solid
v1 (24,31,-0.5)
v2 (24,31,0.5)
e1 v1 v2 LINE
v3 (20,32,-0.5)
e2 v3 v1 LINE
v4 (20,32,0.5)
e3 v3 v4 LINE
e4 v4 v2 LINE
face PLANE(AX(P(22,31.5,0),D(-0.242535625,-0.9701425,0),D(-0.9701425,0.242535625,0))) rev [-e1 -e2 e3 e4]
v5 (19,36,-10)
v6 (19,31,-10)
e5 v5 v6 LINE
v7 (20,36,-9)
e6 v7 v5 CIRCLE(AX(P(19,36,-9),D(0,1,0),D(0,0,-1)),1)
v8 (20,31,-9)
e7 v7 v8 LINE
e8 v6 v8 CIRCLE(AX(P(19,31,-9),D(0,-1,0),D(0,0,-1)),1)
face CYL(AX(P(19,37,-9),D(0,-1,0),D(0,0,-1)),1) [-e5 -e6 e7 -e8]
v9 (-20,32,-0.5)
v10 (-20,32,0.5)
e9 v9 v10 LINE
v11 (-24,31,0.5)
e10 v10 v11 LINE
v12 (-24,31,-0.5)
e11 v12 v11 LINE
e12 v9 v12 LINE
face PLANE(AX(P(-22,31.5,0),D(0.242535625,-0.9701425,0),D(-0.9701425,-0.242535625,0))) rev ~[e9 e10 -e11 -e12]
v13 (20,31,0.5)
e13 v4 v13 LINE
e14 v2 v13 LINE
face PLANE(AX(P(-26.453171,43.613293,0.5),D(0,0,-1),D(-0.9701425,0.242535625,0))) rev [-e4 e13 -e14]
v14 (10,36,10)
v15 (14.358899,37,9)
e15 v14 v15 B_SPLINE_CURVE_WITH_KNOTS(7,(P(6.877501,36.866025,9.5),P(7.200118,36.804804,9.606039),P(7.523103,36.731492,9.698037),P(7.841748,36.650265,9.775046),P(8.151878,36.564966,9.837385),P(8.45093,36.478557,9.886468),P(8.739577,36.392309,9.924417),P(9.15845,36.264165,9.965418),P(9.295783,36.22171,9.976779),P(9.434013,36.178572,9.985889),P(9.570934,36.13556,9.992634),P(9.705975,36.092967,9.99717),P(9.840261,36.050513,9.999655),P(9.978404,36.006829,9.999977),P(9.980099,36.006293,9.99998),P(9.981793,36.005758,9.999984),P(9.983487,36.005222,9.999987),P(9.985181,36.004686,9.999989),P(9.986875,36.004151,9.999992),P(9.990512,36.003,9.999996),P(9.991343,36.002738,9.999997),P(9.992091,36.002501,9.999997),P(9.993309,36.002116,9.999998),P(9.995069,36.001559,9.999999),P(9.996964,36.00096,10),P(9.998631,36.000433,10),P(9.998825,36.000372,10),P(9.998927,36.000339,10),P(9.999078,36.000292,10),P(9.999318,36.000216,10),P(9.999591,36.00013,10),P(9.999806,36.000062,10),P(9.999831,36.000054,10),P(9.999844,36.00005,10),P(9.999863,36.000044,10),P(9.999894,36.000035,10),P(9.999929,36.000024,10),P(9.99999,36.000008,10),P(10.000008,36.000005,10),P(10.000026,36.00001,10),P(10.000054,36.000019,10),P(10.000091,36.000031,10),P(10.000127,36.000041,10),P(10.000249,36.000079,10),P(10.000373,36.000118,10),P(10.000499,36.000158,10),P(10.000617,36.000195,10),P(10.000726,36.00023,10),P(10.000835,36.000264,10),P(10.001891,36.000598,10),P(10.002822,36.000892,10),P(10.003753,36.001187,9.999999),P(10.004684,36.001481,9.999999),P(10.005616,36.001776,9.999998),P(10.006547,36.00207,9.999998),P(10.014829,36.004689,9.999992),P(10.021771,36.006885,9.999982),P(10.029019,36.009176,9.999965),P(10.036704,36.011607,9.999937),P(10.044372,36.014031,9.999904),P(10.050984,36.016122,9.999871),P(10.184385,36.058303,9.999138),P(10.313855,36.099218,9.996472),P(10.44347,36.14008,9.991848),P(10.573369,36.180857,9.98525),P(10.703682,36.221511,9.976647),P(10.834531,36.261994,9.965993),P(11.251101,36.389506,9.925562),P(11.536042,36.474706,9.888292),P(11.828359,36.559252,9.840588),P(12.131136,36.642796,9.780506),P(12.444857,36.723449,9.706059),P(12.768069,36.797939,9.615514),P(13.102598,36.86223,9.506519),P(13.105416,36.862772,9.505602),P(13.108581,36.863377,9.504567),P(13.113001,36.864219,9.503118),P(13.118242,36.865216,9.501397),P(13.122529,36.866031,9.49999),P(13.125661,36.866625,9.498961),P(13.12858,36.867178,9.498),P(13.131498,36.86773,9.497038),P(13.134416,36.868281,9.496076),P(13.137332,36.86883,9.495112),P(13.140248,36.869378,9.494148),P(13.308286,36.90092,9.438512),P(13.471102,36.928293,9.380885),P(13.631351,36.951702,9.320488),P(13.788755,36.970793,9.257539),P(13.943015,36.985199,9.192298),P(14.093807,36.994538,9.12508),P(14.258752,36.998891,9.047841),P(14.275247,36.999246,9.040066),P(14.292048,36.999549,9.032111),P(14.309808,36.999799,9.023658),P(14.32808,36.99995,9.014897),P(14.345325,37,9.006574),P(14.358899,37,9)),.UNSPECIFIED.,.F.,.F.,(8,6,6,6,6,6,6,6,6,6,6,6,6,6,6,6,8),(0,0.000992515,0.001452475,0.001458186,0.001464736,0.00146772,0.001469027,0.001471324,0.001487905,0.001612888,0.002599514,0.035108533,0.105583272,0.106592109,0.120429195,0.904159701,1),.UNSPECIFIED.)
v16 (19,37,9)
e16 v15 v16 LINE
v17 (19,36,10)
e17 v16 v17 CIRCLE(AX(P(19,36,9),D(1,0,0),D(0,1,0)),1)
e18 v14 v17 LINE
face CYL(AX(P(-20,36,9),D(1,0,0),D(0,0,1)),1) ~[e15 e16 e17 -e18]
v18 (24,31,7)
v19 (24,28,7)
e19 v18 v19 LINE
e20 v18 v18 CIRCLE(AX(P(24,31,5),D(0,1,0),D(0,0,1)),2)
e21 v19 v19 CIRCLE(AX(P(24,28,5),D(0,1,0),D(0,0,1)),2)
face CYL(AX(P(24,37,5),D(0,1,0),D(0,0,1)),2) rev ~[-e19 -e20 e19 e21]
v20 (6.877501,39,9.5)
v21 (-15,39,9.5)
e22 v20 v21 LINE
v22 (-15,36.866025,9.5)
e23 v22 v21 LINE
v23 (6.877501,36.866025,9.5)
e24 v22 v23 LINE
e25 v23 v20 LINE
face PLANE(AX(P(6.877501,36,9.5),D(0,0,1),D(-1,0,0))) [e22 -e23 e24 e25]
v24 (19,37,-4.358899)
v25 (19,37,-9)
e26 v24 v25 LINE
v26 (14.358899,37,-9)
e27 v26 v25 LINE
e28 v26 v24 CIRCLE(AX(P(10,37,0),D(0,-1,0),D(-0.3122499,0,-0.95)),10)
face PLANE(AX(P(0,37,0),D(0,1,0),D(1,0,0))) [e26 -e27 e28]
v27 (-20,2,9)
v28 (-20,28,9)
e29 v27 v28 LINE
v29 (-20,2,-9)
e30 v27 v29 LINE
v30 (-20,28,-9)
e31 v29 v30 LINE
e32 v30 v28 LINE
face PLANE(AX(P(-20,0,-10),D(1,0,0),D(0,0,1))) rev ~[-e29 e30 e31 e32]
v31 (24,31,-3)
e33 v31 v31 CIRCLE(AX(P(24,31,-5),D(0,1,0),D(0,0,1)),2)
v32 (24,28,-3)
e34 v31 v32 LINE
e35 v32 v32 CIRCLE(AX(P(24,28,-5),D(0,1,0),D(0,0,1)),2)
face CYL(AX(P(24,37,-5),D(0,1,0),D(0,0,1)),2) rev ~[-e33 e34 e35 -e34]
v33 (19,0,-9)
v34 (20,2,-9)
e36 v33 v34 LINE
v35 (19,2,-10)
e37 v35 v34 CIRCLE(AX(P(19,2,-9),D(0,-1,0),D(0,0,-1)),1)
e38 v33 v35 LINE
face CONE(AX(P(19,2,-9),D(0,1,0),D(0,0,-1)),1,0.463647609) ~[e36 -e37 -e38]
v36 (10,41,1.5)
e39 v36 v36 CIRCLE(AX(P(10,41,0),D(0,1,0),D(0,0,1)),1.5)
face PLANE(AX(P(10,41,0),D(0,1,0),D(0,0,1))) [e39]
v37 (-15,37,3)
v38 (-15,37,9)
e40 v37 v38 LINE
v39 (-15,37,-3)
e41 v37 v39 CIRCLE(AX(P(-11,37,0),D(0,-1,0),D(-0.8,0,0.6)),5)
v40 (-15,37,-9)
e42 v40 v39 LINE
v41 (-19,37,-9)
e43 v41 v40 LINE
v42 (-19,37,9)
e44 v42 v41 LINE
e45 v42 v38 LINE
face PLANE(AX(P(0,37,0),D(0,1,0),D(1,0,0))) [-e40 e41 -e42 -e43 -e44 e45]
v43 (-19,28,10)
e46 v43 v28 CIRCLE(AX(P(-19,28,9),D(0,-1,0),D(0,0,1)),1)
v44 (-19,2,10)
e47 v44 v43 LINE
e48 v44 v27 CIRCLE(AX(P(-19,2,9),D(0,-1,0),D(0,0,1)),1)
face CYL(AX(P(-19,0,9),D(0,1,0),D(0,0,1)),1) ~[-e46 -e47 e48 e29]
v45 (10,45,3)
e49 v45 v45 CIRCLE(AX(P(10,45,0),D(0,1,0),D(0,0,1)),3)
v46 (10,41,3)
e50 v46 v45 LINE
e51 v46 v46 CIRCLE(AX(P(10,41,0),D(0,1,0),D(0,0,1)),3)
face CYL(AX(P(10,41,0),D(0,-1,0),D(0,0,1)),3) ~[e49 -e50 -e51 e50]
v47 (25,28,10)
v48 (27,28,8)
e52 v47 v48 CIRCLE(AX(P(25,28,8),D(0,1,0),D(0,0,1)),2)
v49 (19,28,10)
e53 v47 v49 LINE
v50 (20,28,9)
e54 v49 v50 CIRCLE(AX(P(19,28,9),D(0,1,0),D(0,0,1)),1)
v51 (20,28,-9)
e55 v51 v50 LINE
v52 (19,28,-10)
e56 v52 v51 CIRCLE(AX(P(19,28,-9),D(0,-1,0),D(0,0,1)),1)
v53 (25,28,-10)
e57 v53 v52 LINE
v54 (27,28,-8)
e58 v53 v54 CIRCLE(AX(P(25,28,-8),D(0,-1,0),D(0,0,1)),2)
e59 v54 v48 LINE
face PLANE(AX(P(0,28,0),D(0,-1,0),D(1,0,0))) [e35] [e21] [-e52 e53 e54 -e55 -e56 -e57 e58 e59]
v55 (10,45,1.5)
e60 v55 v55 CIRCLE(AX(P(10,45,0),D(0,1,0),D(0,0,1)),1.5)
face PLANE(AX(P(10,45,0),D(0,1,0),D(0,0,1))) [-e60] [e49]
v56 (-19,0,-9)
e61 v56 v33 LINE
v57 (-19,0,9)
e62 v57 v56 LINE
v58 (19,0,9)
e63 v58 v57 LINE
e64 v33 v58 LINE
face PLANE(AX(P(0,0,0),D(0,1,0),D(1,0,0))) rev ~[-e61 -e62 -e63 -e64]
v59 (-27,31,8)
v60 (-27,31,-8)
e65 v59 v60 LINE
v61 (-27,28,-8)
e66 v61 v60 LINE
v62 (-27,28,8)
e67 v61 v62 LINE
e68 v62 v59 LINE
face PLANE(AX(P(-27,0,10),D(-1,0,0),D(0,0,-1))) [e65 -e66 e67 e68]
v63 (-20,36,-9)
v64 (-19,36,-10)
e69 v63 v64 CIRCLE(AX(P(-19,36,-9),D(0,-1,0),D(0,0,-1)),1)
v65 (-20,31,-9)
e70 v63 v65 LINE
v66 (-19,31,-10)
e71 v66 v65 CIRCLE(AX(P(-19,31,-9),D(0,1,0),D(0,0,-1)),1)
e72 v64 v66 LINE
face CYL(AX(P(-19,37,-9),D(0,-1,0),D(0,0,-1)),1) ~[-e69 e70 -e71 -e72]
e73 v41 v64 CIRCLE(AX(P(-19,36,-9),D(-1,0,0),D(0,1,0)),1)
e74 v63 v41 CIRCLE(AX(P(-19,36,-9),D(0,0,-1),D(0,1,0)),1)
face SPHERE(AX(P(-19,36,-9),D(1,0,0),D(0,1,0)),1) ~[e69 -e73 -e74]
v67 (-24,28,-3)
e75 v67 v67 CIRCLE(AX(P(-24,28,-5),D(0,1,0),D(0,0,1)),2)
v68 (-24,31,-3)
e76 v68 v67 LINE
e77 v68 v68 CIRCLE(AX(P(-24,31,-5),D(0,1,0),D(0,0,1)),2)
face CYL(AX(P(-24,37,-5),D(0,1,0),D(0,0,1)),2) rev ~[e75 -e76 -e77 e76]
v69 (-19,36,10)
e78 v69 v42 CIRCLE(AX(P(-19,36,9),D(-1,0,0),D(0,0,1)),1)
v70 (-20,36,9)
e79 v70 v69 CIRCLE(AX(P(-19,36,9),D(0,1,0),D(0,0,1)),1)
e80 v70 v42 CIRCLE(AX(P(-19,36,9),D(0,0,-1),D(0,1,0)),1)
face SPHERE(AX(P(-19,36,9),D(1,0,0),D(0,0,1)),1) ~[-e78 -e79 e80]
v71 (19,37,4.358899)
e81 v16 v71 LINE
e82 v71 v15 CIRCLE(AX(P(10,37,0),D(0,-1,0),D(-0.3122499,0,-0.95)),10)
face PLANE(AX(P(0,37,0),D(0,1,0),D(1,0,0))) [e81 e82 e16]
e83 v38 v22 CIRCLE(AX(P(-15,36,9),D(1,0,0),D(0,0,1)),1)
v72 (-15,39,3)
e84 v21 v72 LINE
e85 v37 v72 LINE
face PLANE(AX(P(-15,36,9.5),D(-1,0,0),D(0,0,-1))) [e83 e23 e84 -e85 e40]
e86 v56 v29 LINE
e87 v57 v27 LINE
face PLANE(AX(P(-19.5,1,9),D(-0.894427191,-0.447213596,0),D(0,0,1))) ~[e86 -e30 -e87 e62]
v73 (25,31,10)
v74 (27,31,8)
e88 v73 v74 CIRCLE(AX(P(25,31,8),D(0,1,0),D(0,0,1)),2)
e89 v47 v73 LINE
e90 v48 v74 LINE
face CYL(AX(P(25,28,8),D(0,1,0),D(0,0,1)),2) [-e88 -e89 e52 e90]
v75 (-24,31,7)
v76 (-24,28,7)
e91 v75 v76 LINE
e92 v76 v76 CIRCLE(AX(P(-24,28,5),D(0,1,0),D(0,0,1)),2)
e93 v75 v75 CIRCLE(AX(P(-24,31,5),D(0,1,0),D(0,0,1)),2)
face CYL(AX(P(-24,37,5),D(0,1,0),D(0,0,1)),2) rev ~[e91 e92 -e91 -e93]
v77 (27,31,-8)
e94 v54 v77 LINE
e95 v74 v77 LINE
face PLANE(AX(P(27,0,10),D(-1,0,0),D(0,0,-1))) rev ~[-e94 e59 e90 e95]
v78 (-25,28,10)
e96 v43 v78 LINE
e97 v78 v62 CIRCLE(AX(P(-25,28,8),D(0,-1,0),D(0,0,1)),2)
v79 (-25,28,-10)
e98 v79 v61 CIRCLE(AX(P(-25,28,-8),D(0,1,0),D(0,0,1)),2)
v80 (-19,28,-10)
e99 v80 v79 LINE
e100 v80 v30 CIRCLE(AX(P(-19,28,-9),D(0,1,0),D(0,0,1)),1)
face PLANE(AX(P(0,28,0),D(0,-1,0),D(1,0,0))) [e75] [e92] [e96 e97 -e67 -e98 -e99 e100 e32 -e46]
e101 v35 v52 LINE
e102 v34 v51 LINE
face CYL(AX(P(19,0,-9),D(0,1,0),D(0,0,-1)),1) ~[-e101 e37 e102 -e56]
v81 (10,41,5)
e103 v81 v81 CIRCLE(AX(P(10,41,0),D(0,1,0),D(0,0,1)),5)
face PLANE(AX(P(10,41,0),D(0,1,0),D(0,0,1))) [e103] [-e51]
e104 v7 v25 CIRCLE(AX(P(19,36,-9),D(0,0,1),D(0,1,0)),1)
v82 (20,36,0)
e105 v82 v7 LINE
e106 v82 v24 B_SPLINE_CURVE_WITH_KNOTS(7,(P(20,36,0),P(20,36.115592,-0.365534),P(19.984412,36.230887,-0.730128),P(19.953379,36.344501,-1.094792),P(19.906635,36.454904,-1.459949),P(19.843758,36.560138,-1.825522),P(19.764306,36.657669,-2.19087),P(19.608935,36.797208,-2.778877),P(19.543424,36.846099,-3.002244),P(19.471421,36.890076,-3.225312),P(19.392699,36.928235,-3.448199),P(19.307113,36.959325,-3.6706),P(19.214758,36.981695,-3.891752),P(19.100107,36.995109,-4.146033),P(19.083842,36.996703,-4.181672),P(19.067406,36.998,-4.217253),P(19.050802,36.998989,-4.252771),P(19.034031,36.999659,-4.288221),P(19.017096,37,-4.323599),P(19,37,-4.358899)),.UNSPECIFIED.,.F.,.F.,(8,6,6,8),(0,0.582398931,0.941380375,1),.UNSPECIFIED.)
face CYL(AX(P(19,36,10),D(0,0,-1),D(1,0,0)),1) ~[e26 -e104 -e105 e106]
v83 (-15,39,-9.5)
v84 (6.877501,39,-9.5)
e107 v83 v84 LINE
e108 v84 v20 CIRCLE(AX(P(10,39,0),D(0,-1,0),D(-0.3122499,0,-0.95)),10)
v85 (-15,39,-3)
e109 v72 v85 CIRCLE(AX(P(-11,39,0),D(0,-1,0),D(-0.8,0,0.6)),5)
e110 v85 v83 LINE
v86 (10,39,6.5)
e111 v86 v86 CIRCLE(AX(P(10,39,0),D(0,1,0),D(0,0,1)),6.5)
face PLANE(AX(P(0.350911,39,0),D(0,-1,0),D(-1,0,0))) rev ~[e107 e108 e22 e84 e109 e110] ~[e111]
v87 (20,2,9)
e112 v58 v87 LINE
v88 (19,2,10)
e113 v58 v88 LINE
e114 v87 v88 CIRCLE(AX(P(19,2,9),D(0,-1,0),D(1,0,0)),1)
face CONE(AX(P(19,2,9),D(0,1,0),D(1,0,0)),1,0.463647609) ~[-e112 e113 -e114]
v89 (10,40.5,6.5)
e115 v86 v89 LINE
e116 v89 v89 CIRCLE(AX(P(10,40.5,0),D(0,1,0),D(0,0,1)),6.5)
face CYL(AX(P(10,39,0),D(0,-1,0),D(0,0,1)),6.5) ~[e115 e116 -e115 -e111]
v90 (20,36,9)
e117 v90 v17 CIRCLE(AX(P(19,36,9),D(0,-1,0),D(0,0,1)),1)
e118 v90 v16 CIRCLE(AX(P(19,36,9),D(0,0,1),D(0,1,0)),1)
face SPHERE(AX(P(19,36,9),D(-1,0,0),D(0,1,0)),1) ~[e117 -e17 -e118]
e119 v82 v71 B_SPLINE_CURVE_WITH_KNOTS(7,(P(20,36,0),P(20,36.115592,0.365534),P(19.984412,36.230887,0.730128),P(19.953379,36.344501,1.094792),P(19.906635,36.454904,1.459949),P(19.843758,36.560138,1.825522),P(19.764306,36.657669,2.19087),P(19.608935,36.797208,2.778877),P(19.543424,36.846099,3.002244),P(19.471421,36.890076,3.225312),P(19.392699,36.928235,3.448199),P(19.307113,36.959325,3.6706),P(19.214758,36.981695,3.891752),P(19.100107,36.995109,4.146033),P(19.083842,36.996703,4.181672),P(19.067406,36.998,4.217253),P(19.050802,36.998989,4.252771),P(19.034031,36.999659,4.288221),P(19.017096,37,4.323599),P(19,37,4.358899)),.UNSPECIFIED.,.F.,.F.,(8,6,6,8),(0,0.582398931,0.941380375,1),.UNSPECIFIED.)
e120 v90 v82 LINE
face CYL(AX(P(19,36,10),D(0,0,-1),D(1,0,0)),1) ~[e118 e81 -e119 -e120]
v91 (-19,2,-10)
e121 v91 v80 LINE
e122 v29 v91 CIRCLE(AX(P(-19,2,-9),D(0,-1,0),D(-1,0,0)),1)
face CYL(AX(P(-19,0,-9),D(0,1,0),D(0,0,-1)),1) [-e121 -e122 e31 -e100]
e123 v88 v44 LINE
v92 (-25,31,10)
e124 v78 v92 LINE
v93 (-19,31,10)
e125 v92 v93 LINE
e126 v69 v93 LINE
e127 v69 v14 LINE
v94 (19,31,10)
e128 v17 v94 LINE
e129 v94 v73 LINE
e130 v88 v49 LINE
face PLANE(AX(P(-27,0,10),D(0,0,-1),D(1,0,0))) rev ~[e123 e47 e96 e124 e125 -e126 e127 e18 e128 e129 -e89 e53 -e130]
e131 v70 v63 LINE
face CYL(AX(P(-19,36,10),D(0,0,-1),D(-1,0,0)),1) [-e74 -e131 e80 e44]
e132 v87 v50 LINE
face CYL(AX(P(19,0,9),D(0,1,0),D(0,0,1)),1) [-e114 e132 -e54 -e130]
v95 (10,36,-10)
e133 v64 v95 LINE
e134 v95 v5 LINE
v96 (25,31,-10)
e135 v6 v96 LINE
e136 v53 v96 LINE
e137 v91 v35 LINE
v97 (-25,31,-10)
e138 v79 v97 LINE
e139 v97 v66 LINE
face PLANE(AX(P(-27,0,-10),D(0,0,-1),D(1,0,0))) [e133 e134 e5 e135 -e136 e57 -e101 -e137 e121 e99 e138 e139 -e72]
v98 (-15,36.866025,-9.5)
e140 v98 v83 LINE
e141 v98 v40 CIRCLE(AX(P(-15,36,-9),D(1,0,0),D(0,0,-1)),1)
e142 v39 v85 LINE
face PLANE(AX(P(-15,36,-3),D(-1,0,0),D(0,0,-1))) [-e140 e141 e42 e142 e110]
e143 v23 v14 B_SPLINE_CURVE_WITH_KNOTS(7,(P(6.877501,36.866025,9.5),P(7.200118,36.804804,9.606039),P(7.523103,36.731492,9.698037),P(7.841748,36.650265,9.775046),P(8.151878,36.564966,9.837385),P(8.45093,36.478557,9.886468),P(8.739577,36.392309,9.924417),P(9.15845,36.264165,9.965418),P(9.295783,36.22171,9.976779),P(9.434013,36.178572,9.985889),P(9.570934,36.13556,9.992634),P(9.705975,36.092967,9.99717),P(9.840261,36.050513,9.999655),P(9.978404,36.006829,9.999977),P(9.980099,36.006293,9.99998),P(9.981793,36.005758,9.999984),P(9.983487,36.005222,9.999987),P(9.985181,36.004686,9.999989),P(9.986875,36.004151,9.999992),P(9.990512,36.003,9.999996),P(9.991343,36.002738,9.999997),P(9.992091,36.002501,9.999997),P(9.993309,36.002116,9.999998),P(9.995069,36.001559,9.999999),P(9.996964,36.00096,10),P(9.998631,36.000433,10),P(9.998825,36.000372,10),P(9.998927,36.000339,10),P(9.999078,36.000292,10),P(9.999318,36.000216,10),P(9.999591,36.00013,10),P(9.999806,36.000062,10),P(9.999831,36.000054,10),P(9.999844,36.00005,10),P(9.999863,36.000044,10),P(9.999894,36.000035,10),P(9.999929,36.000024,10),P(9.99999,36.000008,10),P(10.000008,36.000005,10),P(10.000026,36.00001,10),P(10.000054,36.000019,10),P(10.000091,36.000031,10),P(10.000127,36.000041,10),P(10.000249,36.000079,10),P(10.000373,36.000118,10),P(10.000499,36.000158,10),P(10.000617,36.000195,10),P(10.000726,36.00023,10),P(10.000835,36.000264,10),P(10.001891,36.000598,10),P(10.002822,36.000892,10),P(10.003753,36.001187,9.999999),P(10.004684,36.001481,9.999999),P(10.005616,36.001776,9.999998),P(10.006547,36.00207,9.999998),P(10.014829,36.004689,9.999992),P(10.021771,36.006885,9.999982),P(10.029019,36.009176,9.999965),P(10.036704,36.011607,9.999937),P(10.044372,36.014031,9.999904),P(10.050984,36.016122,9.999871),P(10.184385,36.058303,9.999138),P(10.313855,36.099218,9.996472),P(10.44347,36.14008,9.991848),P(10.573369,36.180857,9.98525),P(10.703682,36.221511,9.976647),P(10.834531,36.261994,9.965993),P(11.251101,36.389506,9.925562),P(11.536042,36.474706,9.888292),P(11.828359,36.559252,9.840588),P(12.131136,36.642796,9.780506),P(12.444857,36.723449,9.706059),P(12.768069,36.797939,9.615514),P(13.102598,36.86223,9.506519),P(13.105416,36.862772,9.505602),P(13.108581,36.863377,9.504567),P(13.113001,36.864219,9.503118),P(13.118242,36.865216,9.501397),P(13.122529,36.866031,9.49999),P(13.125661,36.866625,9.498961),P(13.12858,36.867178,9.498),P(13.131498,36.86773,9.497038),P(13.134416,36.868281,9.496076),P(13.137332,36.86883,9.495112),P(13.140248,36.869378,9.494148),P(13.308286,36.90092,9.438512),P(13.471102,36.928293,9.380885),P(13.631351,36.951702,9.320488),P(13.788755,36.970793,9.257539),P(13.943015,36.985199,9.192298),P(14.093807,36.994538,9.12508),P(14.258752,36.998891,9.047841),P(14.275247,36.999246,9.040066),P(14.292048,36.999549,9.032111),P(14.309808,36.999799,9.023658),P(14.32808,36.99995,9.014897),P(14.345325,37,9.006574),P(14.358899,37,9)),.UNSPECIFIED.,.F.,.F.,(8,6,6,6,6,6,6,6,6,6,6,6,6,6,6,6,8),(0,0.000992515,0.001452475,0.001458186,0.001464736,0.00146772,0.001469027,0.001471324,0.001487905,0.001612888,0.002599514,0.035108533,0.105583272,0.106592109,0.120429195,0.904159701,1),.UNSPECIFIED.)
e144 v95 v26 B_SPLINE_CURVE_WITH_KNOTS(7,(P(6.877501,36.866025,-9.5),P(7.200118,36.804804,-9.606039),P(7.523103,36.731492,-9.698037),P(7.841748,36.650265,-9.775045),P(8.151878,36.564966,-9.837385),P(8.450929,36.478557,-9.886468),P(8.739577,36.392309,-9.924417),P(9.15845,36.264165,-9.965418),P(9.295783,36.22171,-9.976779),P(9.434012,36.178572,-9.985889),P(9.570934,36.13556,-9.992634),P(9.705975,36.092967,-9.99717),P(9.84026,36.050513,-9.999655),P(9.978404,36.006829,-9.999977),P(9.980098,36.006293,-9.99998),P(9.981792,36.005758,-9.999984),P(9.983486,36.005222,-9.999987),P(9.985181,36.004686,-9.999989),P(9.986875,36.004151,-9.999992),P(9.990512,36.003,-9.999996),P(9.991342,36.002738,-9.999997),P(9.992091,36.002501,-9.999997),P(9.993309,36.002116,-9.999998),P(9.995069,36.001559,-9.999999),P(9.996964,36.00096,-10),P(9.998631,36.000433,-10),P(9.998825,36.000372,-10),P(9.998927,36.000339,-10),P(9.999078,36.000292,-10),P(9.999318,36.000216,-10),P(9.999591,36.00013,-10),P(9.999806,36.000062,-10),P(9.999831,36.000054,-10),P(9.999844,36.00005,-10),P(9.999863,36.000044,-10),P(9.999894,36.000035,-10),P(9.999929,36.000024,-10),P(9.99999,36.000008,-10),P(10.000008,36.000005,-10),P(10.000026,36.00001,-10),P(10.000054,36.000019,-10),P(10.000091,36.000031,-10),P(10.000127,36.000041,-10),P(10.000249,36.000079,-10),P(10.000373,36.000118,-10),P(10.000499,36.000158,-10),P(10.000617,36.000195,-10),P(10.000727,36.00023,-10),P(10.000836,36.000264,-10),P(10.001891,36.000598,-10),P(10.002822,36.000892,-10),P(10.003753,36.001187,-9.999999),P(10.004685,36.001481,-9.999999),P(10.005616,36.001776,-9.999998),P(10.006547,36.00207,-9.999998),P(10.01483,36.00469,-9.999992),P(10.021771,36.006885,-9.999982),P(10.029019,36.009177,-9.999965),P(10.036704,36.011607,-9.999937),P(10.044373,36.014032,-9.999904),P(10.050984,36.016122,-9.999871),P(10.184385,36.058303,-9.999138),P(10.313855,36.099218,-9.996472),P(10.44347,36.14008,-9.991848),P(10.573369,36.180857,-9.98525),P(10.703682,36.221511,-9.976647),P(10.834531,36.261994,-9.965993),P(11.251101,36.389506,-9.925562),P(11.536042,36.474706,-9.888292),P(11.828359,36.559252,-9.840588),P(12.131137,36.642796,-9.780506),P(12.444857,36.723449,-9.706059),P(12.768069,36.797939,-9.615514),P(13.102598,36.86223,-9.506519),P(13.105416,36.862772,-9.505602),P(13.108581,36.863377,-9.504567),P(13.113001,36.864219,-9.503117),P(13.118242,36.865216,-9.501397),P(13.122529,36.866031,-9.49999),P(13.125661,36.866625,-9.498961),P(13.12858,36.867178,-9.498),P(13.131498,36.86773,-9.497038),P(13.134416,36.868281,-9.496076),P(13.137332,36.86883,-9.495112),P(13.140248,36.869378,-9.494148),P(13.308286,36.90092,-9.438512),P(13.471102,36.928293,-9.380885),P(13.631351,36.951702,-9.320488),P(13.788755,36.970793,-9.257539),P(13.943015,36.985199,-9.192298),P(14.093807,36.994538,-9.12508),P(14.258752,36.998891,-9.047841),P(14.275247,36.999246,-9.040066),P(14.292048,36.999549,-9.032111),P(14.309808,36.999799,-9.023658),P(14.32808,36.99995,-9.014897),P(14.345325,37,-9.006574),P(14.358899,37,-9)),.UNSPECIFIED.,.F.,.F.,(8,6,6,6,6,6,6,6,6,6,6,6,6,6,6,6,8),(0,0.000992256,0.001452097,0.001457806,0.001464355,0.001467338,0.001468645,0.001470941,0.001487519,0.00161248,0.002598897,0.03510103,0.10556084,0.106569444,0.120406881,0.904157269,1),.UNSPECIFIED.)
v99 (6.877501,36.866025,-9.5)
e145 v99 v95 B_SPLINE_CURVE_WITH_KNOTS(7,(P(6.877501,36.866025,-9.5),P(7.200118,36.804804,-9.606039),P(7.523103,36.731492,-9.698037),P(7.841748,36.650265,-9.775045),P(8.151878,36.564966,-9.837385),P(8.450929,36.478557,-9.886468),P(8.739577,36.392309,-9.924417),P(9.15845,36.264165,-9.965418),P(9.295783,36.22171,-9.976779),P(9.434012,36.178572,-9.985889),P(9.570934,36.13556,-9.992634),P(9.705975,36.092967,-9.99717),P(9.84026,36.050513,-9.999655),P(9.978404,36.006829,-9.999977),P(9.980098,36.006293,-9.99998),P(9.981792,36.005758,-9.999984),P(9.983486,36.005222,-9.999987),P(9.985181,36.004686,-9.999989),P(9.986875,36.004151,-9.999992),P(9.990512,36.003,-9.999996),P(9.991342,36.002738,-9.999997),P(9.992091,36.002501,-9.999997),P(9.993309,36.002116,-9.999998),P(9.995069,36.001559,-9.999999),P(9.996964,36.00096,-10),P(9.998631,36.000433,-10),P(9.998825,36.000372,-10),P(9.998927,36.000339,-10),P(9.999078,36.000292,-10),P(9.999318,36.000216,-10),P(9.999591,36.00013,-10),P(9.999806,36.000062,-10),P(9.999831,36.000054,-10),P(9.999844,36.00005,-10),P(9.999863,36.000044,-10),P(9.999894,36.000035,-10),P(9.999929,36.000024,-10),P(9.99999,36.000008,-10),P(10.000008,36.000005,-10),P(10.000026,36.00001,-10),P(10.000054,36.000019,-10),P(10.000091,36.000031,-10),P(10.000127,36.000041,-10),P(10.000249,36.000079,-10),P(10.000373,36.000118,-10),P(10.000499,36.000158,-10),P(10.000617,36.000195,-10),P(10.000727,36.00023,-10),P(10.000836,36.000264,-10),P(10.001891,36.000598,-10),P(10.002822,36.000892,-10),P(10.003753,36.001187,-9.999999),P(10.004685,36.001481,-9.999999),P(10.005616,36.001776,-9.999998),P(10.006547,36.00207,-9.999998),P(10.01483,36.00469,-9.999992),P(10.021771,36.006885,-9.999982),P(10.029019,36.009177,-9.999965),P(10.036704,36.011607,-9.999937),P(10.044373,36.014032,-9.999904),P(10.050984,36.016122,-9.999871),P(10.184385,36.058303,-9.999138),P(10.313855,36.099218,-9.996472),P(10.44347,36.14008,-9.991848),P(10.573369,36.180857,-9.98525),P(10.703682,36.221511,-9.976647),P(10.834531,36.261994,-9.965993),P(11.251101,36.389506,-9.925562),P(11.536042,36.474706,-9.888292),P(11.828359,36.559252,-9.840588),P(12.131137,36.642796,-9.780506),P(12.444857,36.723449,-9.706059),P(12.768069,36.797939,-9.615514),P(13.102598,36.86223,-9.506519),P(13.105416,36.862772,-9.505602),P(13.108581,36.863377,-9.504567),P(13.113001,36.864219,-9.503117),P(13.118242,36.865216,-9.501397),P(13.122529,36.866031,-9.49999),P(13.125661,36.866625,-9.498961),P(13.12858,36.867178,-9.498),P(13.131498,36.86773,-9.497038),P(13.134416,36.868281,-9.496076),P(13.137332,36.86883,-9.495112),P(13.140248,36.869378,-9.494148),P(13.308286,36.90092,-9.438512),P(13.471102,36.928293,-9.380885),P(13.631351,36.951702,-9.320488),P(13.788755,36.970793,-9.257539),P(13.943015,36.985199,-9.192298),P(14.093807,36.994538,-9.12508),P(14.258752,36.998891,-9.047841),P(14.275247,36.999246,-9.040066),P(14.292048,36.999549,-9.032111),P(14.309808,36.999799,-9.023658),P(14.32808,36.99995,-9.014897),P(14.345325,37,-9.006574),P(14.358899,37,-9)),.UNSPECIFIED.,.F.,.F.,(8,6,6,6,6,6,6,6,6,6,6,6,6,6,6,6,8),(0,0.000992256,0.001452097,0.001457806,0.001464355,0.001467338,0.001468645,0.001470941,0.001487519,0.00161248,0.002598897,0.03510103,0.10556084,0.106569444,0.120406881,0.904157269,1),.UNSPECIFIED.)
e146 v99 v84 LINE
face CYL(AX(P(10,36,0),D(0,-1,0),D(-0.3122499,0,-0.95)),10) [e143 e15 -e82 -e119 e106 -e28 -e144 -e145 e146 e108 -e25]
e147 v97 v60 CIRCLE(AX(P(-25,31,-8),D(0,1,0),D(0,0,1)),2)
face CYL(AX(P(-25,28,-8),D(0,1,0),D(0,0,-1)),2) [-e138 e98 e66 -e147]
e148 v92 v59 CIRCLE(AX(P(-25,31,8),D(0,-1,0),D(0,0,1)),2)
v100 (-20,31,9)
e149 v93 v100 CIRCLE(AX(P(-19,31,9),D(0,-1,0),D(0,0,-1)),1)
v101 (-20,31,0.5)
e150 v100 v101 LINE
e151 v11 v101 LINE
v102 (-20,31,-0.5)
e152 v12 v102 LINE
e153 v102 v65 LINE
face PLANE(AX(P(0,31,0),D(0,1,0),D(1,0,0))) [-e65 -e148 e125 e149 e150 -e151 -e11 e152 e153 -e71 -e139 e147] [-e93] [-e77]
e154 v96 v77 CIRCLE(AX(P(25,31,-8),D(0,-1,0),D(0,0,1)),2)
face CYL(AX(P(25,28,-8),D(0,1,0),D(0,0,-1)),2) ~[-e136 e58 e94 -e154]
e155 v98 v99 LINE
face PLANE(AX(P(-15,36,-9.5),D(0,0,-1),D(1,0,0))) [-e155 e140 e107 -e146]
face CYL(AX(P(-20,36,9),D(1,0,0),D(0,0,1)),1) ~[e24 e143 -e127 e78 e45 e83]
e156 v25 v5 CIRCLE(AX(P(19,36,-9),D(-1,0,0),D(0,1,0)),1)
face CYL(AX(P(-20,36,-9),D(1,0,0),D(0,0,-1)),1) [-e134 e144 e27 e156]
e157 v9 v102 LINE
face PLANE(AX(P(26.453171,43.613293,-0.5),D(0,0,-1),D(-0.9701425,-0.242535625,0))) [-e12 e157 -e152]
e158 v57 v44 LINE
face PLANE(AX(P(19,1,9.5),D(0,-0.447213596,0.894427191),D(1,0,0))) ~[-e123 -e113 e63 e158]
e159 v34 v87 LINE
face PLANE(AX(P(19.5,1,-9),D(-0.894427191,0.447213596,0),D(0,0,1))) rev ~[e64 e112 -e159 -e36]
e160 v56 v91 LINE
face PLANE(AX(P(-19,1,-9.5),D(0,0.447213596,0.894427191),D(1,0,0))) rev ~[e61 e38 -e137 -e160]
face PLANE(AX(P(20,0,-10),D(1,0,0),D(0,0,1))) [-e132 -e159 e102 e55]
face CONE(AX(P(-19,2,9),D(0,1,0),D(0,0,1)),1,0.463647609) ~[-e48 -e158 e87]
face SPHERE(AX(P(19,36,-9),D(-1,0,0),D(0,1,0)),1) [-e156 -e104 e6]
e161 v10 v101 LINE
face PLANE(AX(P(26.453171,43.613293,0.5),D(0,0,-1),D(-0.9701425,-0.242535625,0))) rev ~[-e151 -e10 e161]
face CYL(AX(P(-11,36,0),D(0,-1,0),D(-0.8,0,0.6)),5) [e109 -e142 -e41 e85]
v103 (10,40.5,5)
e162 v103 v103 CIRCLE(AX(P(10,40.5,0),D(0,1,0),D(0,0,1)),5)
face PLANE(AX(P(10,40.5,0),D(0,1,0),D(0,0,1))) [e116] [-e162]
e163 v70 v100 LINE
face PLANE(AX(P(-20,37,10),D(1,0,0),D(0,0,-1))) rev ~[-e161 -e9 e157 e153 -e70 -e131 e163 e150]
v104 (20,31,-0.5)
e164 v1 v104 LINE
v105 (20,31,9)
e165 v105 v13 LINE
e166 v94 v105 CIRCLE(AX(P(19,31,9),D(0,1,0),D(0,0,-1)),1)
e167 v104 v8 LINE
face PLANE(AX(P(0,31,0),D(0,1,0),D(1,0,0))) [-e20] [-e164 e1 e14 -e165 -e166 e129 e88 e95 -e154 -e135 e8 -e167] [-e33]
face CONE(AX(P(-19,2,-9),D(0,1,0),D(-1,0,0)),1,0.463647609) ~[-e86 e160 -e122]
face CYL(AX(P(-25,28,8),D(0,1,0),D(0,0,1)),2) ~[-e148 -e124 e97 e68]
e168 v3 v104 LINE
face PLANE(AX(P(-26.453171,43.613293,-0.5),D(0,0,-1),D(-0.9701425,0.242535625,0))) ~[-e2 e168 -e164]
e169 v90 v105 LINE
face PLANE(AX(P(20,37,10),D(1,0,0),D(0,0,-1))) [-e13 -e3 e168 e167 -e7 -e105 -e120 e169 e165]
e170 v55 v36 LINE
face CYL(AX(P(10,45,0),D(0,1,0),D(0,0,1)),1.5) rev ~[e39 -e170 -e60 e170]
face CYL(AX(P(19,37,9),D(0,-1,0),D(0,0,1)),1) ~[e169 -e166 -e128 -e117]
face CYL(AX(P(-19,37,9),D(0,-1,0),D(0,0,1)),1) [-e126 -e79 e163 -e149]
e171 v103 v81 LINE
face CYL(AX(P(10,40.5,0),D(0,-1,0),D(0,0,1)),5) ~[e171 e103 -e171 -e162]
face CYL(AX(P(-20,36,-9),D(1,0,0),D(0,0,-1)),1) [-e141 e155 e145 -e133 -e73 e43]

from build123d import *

# Parameters (mm, degrees)
SKETCH_1_W          = 54
SKETCH_1_H          = 20
EXTRUDE_1_DEPTH     = 37
SKETCH_2_W          = 67.922695334
SKETCH_2_H          = 39.407561178
SKETCH_2_W_2        = 40
SKETCH_2_H_2        = 20
CUT_EXTRUDE_1_DEPTH = 28
SKETCH_3_W          = 67.922695334
SKETCH_3_H          = 33.385731604
SKETCH_3_W_2        = 40
SKETCH_3_H_2        = 20
CUT_EXTRUDE_2_DEPTH = 6
FILLET_1_R          = 1
FILLET_2_R          = 2
CHAMFER_1_SIZE      = 1
CHAMFER_1_SIZE2     = 2
SKETCH_4_R          = 2
CUT_EXTRUDE_3_DEPTH = 30
RIB_1_REACH         = 48.883
SKETCH_5_WALL_W     = 99.888770984
SKETCH_5_WALL_H     = 1
EXTRUDE_START       = -1
EXTRUDE_4_DEPTH     = 3
SKETCH_9_R          = 6.5
EXTRUDE_5_DEPTH     = 2
CUT_EXTRUDE_START   = -0.5
SKETCH_10_R         = 6.5
SKETCH_10_R_2       = 5
CUT_EXTRUDE_4_DEPTH = 0.5
SKETCH_11_R         = 3
EXTRUDE_6_DEPTH     = 4
SKETCH_14_R         = 1.5
CUT_EXTRUDE_5_DEPTH = 4


with BuildPart() as part:
    # 草图1 → 凸台-拉伸1 (new body)
    with BuildSketch(Plane(origin=(0, 0, 0), x_dir=(1, 0, 0), z_dir=(0, 1, 0))):
        Rectangle(SKETCH_1_W, SKETCH_1_H)
    extrude(amount=EXTRUDE_1_DEPTH)

    # 草图2 → 切除-拉伸1 (cut)
    with BuildSketch(Plane.XZ):
        Rectangle(SKETCH_2_W, SKETCH_2_H)
        Rectangle(SKETCH_2_W_2, SKETCH_2_H_2, mode=Mode.SUBTRACT)
    extrude(amount=-CUT_EXTRUDE_1_DEPTH, mode=Mode.SUBTRACT)

    # 草图3 → 切除-拉伸2 (cut)
    with BuildSketch(Plane(origin=(0, 37, 0), x_dir=(1, 0, 0), z_dir=(0, 1, 0))):
        Rectangle(SKETCH_3_W, SKETCH_3_H)
        Rectangle(SKETCH_3_W_2, SKETCH_3_H_2, mode=Mode.SUBTRACT)
    extrude(amount=-CUT_EXTRUDE_2_DEPTH, mode=Mode.SUBTRACT)

    # 圆角1
    fillet_1_edges = [part.edges().sort_by_distance(p)[0] for p in [
        (20, 14, -10),
        (-20, 14, -10),
        (-20, 14, 10),
        (20, 14, 10),
        (0, 37, -10),
        (0, 37, 10),
        (20, 37, 0),
        (20, 34, 10),
        (-20, 34, 10),
        (-20, 37, 0),
        (-20, 34, -10),
        (20, 34, -10),
    ]]
    fillet(fillet_1_edges, radius=FILLET_1_R)

    # 圆角2
    fillet_2_edges = [part.edges().sort_by_distance(p)[0] for p in [
        (27, 29.5, 10),
        (-27, 29.5, 10),
        (-27, 29.5, -10),
        (27, 29.5, -10),
    ]]
    fillet(fillet_2_edges, radius=FILLET_2_R)

    # 倒角1
    chamfer_1_edges = [part.edges().sort_by_distance(p)[0] for p in [
        (0, 0, -10),
        (0, 0, 10),
        (-20, 0, 0),
        (20, 0, 0),
        (-19.707106781, 0, 9.707106781),
        (19.707106781, 0, 9.707106781),
        (19.707106781, 0, -9.707106781),
        (-19.707106781, 0, -9.707106781),
    ]]
    chamfer_1_side = [part.faces().sort_by_distance(p)[0] for p in [
        (0, 0, 0),
    ]]
    chamfer(chamfer_1_edges, length=CHAMFER_1_SIZE, length2=CHAMFER_1_SIZE2, reference=chamfer_1_side[0])

    # 草图4 → 切除-拉伸3 (cut)
    with BuildSketch(Plane(origin=(0, 37, 0), x_dir=(1, 0, 0), z_dir=(0, 1, 0))):
        with Locations(Location((-24, 5, 0), (0, 0, 270))):
            Circle(SKETCH_4_R)
        with Locations(Location((-24, -5, 0), (0, 0, 270))):
            Circle(SKETCH_4_R)
        with Locations(Location((24, -5, 0), (0, 0, 270))):
            Circle(SKETCH_4_R)
        with Locations(Location((24, 5, 0), (0, 0, 270))):
            Circle(SKETCH_4_R)
    extrude(amount=-CUT_EXTRUDE_3_DEPTH, mode=Mode.SUBTRACT)

    # 草图5 wall → 筋1 (add, up to next)
    with BuildSketch(Plane(origin=(-22, 31.5, 0), x_dir=(-0.970142500145, -0.242535625036, 0), z_dir=(0.242535625036, -0.970142500145, 0)), mode=Mode.PRIVATE) as rib_1_sk1:
        Rectangle(SKETCH_5_WALL_W, SKETCH_5_WALL_H)
    rib_1_tool1 = extrude(rib_1_sk1.sketch, amount=RIB_1_REACH, mode=Mode.PRIVATE) - part.part
    rib_1 = rib_1_tool1.solids().sort_by_distance((-22, 31.5, 0))[0]
    add(rib_1)

    # 镜向1: 筋1 across plane
    add(rib_1.mirror(Plane(origin=(0, 0, 0), x_dir=(0, 0, 1), z_dir=(1, 0, 0))))

    # 草图8 → 凸台-拉伸4 (add)
    with BuildSketch(Plane(origin=(0, 37, 0), x_dir=(1, 0, 0), z_dir=(0, 1, 0)).offset(EXTRUDE_START)):
        with BuildLine():
            Line((-15, 9.5), (6.877501001, 9.5))
            ThreePointArc((6.877501001, 9.5), (20, 0), (6.877501001, -9.5))
            Line((6.877501001, -9.5), (-15, -9.5))
            Line((-15, -9.5), (-15, -3))
            ThreePointArc((-15, -3), (-16, 0), (-15, 3))
            Line((-15, 3), (-15, 9.5))
        make_face()
    extrude(amount=EXTRUDE_4_DEPTH)

    # 草图9 → 凸台-拉伸5 (add)
    with BuildSketch(Plane(origin=(0, 39, 0), x_dir=(1, 0, 0), z_dir=(0, 1, 0))):
        with Locations(Location((10, 0, 0), (0, 0, 270))):
            Circle(SKETCH_9_R)
    extrude(amount=EXTRUDE_5_DEPTH)

    # 草图10 → 切除-拉伸4 (cut)
    with BuildSketch(Plane(origin=(0, 41, 0), x_dir=(1, 0, 0), z_dir=(0, 1, 0)).offset(CUT_EXTRUDE_START)):
        with Locations(Location((10, 0, 0), (0, 0, 270))):
            Circle(SKETCH_10_R)
        with Locations(Location((10, 0, 0), (0, 0, 270))):
            Circle(SKETCH_10_R_2, mode=Mode.SUBTRACT)
    extrude(amount=CUT_EXTRUDE_4_DEPTH, mode=Mode.SUBTRACT)

    # 草图11 → 凸台-拉伸6 (add)
    with BuildSketch(Plane(origin=(0, 41, 0), x_dir=(1, 0, 0), z_dir=(0, 1, 0))):
        with Locations(Location((10, 0, 0), (0, 0, 270))):
            Circle(SKETCH_11_R)
    extrude(amount=EXTRUDE_6_DEPTH)

    # 草图14 → 切除-拉伸5 (cut)
    with BuildSketch(Plane(origin=(0, 45, 0), x_dir=(1, 0, 0), z_dir=(0, 1, 0))):
        with Locations(Location((10, 0, 0), (0, 0, 270))):
            Circle(SKETCH_14_R)
    extrude(amount=-CUT_EXTRUDE_5_DEPTH, mode=Mode.SUBTRACT)


solid = part.part
